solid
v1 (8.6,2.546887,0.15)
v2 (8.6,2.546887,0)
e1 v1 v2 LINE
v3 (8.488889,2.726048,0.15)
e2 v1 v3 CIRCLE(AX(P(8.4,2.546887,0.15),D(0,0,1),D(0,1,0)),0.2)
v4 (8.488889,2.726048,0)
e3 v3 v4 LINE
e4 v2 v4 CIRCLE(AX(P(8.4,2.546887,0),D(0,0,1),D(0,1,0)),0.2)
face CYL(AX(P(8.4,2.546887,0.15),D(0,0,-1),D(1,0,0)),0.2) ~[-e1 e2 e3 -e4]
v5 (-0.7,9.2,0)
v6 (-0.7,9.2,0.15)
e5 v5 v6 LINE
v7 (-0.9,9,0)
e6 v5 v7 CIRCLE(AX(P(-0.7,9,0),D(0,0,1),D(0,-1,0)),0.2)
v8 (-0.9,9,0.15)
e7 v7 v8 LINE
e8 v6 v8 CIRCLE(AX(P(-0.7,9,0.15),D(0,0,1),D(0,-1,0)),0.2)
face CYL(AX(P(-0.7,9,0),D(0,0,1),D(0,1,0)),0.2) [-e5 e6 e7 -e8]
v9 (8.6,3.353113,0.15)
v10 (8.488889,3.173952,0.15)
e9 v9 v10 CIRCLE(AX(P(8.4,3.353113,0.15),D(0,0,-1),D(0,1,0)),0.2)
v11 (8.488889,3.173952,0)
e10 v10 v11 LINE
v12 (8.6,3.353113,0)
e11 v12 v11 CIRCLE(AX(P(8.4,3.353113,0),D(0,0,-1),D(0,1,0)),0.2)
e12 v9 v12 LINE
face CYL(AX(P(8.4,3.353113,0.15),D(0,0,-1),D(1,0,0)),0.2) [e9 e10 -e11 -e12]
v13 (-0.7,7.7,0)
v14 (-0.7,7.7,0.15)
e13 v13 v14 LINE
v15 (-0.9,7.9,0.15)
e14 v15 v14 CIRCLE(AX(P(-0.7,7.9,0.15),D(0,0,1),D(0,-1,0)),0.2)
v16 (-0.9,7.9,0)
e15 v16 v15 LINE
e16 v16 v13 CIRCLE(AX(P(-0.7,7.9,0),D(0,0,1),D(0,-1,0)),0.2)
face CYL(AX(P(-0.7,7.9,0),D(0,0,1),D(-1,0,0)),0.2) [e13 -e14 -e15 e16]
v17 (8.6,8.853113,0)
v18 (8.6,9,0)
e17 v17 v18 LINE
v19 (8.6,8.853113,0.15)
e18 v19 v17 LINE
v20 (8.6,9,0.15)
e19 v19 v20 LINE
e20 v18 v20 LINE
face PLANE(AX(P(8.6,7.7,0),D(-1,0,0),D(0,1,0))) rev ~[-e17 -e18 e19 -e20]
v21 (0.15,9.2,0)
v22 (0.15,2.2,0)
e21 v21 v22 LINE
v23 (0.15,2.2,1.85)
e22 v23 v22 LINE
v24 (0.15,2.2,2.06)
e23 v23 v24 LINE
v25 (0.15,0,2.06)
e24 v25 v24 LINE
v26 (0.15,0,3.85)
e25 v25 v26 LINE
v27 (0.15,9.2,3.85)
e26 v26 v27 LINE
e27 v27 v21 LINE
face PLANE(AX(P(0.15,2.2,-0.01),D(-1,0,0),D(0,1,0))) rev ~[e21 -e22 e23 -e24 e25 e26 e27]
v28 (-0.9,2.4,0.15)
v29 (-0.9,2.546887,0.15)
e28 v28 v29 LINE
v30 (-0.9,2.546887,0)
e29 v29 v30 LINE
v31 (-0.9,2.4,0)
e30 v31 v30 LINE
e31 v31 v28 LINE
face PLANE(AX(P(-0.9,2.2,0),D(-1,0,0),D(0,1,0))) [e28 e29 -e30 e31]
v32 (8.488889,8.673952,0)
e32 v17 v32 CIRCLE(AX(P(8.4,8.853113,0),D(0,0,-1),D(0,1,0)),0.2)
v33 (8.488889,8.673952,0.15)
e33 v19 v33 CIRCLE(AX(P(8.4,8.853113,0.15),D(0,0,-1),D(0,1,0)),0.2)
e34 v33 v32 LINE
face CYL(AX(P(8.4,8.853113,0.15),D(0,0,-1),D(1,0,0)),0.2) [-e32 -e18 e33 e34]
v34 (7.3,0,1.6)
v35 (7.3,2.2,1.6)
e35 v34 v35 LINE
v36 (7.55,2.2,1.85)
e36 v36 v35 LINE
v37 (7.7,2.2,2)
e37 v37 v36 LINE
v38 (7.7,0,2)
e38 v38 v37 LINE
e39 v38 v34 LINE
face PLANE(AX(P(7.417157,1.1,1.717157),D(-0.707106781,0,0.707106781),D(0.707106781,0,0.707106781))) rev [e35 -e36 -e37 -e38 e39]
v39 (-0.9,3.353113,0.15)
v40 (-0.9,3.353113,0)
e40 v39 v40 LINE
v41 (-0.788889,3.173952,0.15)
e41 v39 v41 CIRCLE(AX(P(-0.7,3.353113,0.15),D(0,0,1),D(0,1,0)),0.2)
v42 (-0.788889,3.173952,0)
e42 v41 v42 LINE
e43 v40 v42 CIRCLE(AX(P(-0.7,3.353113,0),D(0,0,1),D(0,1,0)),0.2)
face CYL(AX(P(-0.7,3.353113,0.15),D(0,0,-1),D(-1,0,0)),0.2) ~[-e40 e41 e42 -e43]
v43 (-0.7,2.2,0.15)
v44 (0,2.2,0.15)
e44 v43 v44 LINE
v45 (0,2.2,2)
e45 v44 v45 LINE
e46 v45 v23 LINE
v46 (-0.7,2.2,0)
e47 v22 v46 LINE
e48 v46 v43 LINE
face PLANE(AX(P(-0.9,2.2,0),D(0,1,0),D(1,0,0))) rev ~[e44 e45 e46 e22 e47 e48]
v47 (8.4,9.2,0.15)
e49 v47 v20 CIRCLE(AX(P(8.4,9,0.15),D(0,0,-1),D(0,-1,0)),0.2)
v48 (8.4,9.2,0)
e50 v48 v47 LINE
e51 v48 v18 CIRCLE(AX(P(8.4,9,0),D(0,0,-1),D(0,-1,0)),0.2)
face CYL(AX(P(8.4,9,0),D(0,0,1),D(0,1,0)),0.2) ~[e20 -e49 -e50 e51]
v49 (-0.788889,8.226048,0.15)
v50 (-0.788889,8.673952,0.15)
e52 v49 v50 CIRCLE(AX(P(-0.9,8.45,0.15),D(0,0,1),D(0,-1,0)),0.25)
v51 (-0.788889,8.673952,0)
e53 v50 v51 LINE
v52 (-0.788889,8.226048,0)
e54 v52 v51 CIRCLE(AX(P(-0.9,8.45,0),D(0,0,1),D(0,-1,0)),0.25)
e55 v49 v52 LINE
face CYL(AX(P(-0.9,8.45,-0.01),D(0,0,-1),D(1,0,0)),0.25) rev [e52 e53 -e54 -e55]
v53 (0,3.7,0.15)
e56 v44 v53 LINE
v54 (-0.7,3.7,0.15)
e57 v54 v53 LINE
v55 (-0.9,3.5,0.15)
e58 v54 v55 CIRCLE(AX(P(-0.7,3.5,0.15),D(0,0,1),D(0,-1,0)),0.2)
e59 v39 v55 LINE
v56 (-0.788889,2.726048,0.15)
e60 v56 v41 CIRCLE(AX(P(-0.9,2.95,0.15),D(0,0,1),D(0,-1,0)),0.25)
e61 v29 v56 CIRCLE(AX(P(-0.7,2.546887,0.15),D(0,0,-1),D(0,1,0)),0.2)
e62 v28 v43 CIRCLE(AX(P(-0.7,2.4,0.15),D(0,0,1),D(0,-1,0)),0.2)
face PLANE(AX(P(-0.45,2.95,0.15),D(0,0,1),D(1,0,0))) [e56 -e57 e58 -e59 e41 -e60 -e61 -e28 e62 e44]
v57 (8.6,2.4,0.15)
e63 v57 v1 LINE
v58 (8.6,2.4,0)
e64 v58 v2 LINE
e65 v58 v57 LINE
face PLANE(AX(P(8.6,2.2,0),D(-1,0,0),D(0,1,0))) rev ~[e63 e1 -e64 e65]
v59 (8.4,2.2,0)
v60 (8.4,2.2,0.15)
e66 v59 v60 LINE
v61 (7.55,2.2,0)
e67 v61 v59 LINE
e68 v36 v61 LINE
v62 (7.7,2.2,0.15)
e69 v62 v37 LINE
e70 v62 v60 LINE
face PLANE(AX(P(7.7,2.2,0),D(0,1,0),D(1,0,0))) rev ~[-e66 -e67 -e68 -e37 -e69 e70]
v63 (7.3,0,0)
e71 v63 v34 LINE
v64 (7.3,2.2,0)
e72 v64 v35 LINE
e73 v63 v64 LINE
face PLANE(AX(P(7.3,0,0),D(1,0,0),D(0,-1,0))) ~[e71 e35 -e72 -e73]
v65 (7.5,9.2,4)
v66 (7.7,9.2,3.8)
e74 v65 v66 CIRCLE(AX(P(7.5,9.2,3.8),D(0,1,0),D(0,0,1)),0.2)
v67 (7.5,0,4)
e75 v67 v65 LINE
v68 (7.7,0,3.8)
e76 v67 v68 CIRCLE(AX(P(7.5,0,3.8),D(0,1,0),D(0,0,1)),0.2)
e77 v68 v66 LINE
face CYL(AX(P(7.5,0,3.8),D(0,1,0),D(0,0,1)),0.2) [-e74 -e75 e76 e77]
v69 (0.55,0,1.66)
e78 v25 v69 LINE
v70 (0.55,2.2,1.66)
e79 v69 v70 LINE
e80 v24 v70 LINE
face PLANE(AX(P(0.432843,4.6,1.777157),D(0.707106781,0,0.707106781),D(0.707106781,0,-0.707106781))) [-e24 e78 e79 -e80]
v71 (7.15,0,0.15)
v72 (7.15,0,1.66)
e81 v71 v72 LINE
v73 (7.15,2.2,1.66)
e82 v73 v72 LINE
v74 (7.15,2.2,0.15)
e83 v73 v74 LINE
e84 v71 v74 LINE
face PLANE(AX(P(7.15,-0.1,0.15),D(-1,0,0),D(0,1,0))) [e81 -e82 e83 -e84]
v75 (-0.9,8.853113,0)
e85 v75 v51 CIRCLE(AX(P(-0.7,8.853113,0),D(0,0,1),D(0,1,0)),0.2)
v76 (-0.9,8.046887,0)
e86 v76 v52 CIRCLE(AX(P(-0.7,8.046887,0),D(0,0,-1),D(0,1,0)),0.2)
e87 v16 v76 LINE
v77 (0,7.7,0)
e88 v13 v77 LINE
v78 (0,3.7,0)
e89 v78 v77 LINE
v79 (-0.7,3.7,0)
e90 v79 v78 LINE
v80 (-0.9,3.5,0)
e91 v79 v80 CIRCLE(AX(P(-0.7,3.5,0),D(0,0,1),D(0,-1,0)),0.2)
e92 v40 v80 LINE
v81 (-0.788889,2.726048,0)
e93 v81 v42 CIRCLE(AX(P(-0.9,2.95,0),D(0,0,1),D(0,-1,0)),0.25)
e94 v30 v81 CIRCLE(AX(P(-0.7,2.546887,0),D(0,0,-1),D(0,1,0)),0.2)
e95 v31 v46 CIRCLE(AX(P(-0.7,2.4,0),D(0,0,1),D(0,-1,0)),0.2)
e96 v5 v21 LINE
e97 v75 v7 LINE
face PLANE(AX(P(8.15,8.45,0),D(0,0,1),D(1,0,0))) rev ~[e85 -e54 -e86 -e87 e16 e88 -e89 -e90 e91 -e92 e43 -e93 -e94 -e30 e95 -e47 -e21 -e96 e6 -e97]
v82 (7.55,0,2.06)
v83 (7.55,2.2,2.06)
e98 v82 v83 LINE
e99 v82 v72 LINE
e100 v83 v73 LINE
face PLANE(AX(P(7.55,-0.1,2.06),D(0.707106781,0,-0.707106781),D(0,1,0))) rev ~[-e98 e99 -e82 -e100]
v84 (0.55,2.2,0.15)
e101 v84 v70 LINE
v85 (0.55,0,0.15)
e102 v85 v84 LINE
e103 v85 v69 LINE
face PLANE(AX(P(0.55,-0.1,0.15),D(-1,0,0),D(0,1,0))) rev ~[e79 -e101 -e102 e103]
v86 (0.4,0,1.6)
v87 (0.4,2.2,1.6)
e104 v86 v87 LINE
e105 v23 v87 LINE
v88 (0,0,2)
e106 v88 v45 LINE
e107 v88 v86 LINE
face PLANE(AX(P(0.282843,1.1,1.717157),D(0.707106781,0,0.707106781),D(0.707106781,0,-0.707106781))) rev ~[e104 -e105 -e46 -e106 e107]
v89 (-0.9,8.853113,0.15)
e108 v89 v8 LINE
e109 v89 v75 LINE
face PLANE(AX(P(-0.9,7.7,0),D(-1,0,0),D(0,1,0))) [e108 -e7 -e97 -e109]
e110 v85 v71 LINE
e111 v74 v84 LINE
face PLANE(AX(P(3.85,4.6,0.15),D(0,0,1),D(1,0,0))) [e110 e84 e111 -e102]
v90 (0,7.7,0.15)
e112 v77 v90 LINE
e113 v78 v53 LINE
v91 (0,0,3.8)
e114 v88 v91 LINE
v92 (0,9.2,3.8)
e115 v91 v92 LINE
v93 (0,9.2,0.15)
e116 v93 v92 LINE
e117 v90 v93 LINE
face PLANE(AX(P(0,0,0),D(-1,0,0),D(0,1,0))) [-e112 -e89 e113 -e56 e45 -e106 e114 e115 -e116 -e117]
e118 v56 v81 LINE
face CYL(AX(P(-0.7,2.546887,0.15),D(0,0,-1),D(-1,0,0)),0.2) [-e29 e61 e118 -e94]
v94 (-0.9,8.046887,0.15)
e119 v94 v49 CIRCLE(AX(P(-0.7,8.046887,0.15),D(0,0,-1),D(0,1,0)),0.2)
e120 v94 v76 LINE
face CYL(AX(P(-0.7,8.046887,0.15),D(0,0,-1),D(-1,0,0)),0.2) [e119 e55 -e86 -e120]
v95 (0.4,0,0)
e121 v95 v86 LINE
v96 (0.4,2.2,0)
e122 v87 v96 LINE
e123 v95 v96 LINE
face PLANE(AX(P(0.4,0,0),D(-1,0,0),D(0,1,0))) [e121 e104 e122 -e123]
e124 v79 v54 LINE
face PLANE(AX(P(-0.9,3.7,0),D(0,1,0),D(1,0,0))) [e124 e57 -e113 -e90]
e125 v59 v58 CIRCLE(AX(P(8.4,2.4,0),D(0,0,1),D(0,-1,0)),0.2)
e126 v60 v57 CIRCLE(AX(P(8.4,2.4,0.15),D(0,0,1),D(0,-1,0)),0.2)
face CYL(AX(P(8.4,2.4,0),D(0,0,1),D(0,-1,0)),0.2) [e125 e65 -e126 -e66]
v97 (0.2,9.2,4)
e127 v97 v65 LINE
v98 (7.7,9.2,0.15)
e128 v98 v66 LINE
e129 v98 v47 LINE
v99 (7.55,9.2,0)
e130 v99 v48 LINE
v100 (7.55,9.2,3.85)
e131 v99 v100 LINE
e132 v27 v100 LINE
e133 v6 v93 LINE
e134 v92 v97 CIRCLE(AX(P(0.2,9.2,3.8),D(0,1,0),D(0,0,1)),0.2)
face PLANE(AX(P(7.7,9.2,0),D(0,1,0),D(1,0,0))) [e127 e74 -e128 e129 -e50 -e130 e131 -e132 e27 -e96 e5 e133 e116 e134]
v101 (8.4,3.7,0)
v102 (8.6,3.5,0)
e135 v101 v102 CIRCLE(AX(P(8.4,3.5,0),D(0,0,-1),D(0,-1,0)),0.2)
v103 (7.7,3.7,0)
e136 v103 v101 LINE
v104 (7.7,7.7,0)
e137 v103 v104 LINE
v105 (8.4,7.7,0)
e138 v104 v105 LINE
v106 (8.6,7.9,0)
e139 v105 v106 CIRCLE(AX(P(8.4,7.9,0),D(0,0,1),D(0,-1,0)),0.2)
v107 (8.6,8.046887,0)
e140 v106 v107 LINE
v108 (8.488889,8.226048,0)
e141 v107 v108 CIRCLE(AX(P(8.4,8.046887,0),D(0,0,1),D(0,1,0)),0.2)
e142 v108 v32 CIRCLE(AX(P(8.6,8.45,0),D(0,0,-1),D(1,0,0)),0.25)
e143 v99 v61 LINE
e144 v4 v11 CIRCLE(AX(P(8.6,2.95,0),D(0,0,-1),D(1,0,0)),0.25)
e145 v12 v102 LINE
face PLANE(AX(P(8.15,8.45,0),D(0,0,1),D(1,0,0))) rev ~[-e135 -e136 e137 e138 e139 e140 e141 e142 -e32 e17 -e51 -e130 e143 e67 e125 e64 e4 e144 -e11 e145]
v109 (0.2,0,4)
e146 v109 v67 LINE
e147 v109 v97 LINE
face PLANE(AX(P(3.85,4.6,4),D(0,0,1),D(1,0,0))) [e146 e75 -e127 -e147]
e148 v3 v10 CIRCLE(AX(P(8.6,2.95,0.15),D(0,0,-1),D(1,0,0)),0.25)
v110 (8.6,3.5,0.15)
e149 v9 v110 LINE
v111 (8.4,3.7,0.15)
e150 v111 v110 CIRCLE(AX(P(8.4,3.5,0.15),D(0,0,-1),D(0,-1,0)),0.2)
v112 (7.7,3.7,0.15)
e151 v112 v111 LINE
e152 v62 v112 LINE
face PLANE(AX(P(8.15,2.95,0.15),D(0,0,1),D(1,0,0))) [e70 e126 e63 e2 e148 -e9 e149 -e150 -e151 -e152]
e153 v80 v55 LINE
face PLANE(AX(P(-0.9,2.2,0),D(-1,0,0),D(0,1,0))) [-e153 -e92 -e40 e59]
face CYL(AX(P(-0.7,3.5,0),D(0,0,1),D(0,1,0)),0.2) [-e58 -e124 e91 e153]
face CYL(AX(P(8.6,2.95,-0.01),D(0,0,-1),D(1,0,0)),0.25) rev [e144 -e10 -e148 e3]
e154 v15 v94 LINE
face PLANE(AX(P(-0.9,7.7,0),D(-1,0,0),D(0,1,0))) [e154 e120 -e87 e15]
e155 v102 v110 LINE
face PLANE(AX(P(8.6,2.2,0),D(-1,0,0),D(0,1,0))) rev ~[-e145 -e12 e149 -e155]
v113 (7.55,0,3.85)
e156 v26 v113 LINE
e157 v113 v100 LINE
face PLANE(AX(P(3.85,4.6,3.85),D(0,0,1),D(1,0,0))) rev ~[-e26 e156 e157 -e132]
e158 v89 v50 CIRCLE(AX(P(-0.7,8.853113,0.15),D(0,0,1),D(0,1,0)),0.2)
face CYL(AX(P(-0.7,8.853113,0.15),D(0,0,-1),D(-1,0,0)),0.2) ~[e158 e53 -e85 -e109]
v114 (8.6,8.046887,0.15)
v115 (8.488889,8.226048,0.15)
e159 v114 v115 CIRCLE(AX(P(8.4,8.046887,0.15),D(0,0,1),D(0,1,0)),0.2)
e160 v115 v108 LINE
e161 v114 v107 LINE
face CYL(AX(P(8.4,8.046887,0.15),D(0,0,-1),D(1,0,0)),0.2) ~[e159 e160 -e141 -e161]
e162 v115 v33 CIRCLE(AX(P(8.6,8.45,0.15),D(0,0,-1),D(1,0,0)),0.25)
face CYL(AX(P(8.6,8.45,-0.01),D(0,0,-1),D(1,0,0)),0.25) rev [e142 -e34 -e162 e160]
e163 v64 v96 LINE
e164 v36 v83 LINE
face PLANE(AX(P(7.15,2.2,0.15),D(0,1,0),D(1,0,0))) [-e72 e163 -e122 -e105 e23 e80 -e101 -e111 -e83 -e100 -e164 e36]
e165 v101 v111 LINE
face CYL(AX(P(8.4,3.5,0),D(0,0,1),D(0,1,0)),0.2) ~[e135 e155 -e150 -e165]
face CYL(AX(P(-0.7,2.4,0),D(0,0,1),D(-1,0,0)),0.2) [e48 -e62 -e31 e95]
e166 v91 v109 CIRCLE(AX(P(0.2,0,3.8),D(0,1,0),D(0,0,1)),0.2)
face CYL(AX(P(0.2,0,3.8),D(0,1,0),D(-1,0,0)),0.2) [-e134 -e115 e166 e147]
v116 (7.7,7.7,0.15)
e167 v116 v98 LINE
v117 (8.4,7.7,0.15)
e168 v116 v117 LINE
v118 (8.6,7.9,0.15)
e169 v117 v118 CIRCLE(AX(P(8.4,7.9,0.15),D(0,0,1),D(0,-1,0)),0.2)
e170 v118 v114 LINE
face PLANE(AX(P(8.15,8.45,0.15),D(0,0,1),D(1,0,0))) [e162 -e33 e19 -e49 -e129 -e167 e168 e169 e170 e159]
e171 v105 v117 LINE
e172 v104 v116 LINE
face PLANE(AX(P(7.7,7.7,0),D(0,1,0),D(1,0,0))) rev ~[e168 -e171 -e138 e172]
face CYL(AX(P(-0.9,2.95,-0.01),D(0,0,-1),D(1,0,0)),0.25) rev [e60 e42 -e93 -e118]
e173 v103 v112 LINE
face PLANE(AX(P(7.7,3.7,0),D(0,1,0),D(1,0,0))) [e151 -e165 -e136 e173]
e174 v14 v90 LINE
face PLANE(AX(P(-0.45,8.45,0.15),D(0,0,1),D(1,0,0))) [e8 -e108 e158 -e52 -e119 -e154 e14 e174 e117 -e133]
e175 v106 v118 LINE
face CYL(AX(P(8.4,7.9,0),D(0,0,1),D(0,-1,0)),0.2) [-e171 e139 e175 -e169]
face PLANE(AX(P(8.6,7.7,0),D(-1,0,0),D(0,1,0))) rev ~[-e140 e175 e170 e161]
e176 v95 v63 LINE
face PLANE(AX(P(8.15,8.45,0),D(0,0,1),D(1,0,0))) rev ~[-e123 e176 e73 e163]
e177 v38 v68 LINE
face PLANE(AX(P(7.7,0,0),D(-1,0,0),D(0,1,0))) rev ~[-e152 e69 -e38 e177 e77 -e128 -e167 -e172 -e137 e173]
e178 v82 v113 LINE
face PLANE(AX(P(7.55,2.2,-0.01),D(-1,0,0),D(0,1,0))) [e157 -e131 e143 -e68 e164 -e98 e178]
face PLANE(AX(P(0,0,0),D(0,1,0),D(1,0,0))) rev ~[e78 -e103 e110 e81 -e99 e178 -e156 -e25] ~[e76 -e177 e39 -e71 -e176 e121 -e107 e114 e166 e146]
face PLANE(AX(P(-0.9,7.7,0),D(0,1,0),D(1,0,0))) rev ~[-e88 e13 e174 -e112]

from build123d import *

# Parameters (mm, degrees)
BOX_W                  = 7.4
BOX_H                  = 7
BOX_DEPTH              = 0.2
BOX015_W               = 0.8
BOX015_H               = 9.4
BOX015_DEPTH           = 0.8
BOX015_PLACEMENT_ANGLE = 225
BOX014_W               = 0.4
BOX014_H               = 2.3
BOX014_DEPTH           = 1.91
BOX017_W               = 0.8
BOX017_H               = 9.4
BOX017_DEPTH           = 0.8
BOX017_PLACEMENT_ANGLE = 45
BOX013_W               = 0.4
BOX013_H               = 2.3
BOX013_DEPTH           = 1.91
BOX018_W               = 7.4
BOX018_H               = 9.4
BOX018_DEPTH           = 3.7
CYLINDER004_R          = 0.25
CYLINDER004_DEPTH      = 0.17
BOX024_W               = 0.9
BOX024_H               = 1.5
BOX024_DEPTH           = 0.15
FILLET006_R            = 0.2
CYLINDER006_R          = 0.25
CYLINDER006_DEPTH      = 0.17
BOX025_W               = 0.9
BOX025_H               = 1.5
BOX025_DEPTH           = 0.15
FILLET007_R            = 0.2
CYLINDER005_R          = 0.25
CYLINDER005_DEPTH      = 0.17
BOX026_W               = 0.9
BOX026_H               = 1.5
BOX026_DEPTH           = 0.15
FILLET008_R            = 0.2
CYLINDER007_R          = 0.25
CYLINDER007_DEPTH      = 0.17
BOX027_W               = 0.9
BOX027_H               = 1.5
BOX027_DEPTH           = 0.15
FILLET005_R            = 0.2
BOX023_W               = 0.8
BOX023_H               = 2.2
BOX023_DEPTH           = 0.8
BOX023_PLACEMENT_ANGLE = 45
BOX022_W               = 0.4
BOX022_H               = 2.2
BOX022_DEPTH           = 2
BOX020_W               = 0.8
BOX020_H               = 2.2
BOX020_DEPTH           = 0.8
BOX020_PLACEMENT_ANGLE = 45
BOX021_W               = 0.4
BOX021_H               = 2.2
BOX021_DEPTH           = 2
BOX019_W               = 7.7
BOX019_H               = 9.2
BOX019_DEPTH           = 4
FILLET009_R            = 0.2


with BuildPart() as cube:
    # Box → Box (new body)
    with BuildSketch(Plane(origin=(0.15, 2.2, -0.01), x_dir=(1, 0, 0), z_dir=(0, 0, 1))):
        with Locations((3.7, 3.5)):
            Rectangle(BOX_W, BOX_H)
    extrude(amount=BOX_DEPTH)


with BuildPart() as cube011:
    # Box015 → Box015 (new body)
    with BuildSketch(Plane.XY):
        with Locations((0.4, 4.7)):
            Rectangle(BOX015_W, BOX015_H)
    extrude(amount=BOX015_DEPTH)


with BuildPart() as cube011_1:
    # Box015 placement: moved
    add(cube011.part.moved(Location((7.4, -0.1, 2.06))).rotate(Axis((7.4, -0.1, 2.06), (0, 1, 0)), BOX015_PLACEMENT_ANGLE))


with BuildPart() as cut013:
    # Box014 → Box014 (new body)
    with BuildSketch(Plane(origin=(7, -0.1, 0.15), x_dir=(1, 0, 0), z_dir=(0, 0, 1))):
        with Locations((0.2, 1.15)):
            Rectangle(BOX014_W, BOX014_H)
    extrude(amount=BOX014_DEPTH)

    # Cut013: cut Cube011
    add(cube011_1.part, mode=Mode.SUBTRACT)


with BuildPart() as cut013_1:
    # Cut013 placement: moved
    add(cut013.part.moved(Location((0.15, 0, 0))))


with BuildPart() as cube013:
    # Box017 → Box017 (new body)
    with BuildSketch(Plane.XY):
        with Locations((0.4, 4.7)):
            Rectangle(BOX017_W, BOX017_H)
    extrude(amount=BOX017_DEPTH)


with BuildPart() as cube013_1:
    # Box017 placement: moved
    add(cube013.part.moved(Location((0.15, -0.1, 2.06))).rotate(Axis((0.15, -0.1, 2.06), (0, 1, 0)), BOX017_PLACEMENT_ANGLE))


with BuildPart() as cut022:
    # Box013 → Box013 (new body)
    with BuildSketch(Plane(origin=(0.15, -0.1, 0.15), x_dir=(1, 0, 0), z_dir=(0, 0, 1))):
        with Locations((0.2, 1.15)):
            Rectangle(BOX013_W, BOX013_H)
    extrude(amount=BOX013_DEPTH)

    # Cut022: cut Cube013
    add(cube013_1.part, mode=Mode.SUBTRACT)


with BuildPart() as cut024:
    # Box018 → Box018 (new body)
    with BuildSketch(Plane(origin=(0.15, -0.1, 0.15), x_dir=(1, 0, 0), z_dir=(0, 0, 1))):
        with Locations((3.7, 4.7)):
            Rectangle(BOX018_W, BOX018_H)
    extrude(amount=BOX018_DEPTH)

    # Cut023: cut Cut022
    add(cut022.part, mode=Mode.SUBTRACT)

    # Cut024: cut Cut013
    add(cut013_1.part, mode=Mode.SUBTRACT)


with BuildPart() as cylinder004:
    # Cylinder004 → Cylinder004 (new body)
    with BuildSketch(Plane(origin=(-0.9, 2.95, -0.01), x_dir=(1, 0, 0), z_dir=(0, 0, 1))):
        Circle(CYLINDER004_R)
    extrude(amount=CYLINDER004_DEPTH)


with BuildPart() as foot012:
    # Box024 → Box024 (new body)
    with BuildSketch(Plane(origin=(-0.9, 2.2, 0), x_dir=(1, 0, 0), z_dir=(0, 0, 1))):
        with Locations((0.45, 0.75)):
            Rectangle(BOX024_W, BOX024_H)
    extrude(amount=BOX024_DEPTH)

    # Cut021: cut Cylinder004
    add(cylinder004.part, mode=Mode.SUBTRACT)

    # Fillet006
    fillet006_edges = [foot012.edges().sort_by_distance(p)[0] for p in [
        (-0.9, 2.7, 0.075),
        (-0.9, 2.2, 0.075),
        (-0.9, 3.2, 0.075),
        (-0.9, 3.7, 0.075),
    ]]
    fillet(fillet006_edges, radius=FILLET006_R)


with BuildPart() as cylinder006:
    # Cylinder006 → Cylinder006 (new body)
    with BuildSketch(Plane(origin=(-0.9, 8.45, -0.01), x_dir=(1, 0, 0), z_dir=(0, 0, 1))):
        Circle(CYLINDER006_R)
    extrude(amount=CYLINDER006_DEPTH)


with BuildPart() as foot013:
    # Box025 → Box025 (new body)
    with BuildSketch(Plane(origin=(-0.9, 7.7, 0), x_dir=(1, 0, 0), z_dir=(0, 0, 1))):
        with Locations((0.45, 0.75)):
            Rectangle(BOX025_W, BOX025_H)
    extrude(amount=BOX025_DEPTH)

    # Cut016: cut Cylinder006
    add(cylinder006.part, mode=Mode.SUBTRACT)

    # Fillet007
    fillet007_edges = [foot013.edges().sort_by_distance(p)[0] for p in [
        (-0.9, 8.2, 0.075),
        (-0.9, 7.7, 0.075),
        (-0.9, 8.7, 0.075),
        (-0.9, 9.2, 0.075),
    ]]
    fillet(fillet007_edges, radius=FILLET007_R)


with BuildPart() as cylinder005:
    # Cylinder005 → Cylinder005 (new body)
    with BuildSketch(Plane(origin=(8.6, 2.95, -0.01), x_dir=(1, 0, 0), z_dir=(0, 0, 1))):
        Circle(CYLINDER005_R)
    extrude(amount=CYLINDER005_DEPTH)


with BuildPart() as foot014:
    # Box026 → Box026 (new body)
    with BuildSketch(Plane(origin=(7.7, 2.2, 0), x_dir=(1, 0, 0), z_dir=(0, 0, 1))):
        with Locations((0.45, 0.75)):
            Rectangle(BOX026_W, BOX026_H)
    extrude(amount=BOX026_DEPTH)

    # Cut014: cut Cylinder005
    add(cylinder005.part, mode=Mode.SUBTRACT)

    # Fillet008
    fillet008_edges = [foot014.edges().sort_by_distance(p)[0] for p in [
        (8.6, 2.2, 0.075),
        (8.6, 3.7, 0.075),
        (8.6, 2.7, 0.075),
        (8.6, 3.2, 0.075),
    ]]
    fillet(fillet008_edges, radius=FILLET008_R)


with BuildPart() as cylinder007:
    # Cylinder007 → Cylinder007 (new body)
    with BuildSketch(Plane(origin=(8.6, 8.45, -0.01), x_dir=(1, 0, 0), z_dir=(0, 0, 1))):
        Circle(CYLINDER007_R)
    extrude(amount=CYLINDER007_DEPTH)


with BuildPart() as foot009:
    # Box027 → Box027 (new body)
    with BuildSketch(Plane(origin=(7.7, 7.7, 0), x_dir=(1, 0, 0), z_dir=(0, 0, 1))):
        with Locations((0.45, 0.75)):
            Rectangle(BOX027_W, BOX027_H)
    extrude(amount=BOX027_DEPTH)

    # Cut015: cut Cylinder007
    add(cylinder007.part, mode=Mode.SUBTRACT)

    # Fillet005
    fillet005_edges = [foot009.edges().sort_by_distance(p)[0] for p in [
        (8.6, 7.7, 0.075),
        (8.6, 9.2, 0.075),
        (8.6, 8.2, 0.075),
        (8.6, 8.7, 0.075),
    ]]
    fillet(fillet005_edges, radius=FILLET005_R)


with BuildPart() as cube019:
    # Box023 → Box023 (new body)
    with BuildSketch(Plane.XY):
        with Locations((0.4, 1.1)):
            Rectangle(BOX023_W, BOX023_H)
    extrude(amount=BOX023_DEPTH)


with BuildPart() as cube019_1:
    # Box023 placement: moved
    add(cube019.part.moved(Location((0, 0, 2))).rotate(Axis((0, 0, 2), (0, 1, 0)), BOX023_PLACEMENT_ANGLE))


with BuildPart() as right_side_cutout001:
    # Box022 → Box022 (new body)
    with BuildSketch(Plane.XY):
        with Locations((0.2, 1.1)):
            Rectangle(BOX022_W, BOX022_H)
    extrude(amount=BOX022_DEPTH)

    # Cut018: cut Cube019
    add(cube019_1.part, mode=Mode.SUBTRACT)


with BuildPart() as right_side_cutout001_1:
    # Cut018 placement: moved
    add(right_side_cutout001.part.moved(Location((7.7, 0, 0))))


with BuildPart() as part_mirroring001:
    # Part__Mirroring001: instance of Right Side Cutout001
    add(right_side_cutout001_1.part.mirror(Plane(origin=(7.7, 0, 0), x_dir=(0, -1, 0), z_dir=(1, 0, 0))))


with BuildPart() as cube016:
    # Box020 → Box020 (new body)
    with BuildSketch(Plane.XY):
        with Locations((0.4, 1.1)):
            Rectangle(BOX020_W, BOX020_H)
    extrude(amount=BOX020_DEPTH)


with BuildPart() as cube016_1:
    # Box020 placement: moved
    add(cube016.part.moved(Location((0, 0, 2))).rotate(Axis((0, 0, 2), (0, 1, 0)), BOX020_PLACEMENT_ANGLE))


with BuildPart() as left_side_cutout001:
    # Box021 → Box021 (new body)
    with BuildSketch(Plane.XY):
        with Locations((0.2, 1.1)):
            Rectangle(BOX021_W, BOX021_H)
    extrude(amount=BOX021_DEPTH)

    # Cut020: cut Cube016
    add(cube016_1.part, mode=Mode.SUBTRACT)


with BuildPart() as metal_shell:
    # Box019 → Box019 (new body)
    with BuildSketch(Plane.XY):
        with Locations((3.85, 4.6)):
            Rectangle(BOX019_W, BOX019_H)
    extrude(amount=BOX019_DEPTH)

    # Cut019: cut Left Side Cutout001
    add(left_side_cutout001.part, mode=Mode.SUBTRACT)

    # Cut017: cut Part__Mirroring001
    add(part_mirroring001.part, mode=Mode.SUBTRACT)

    # Fillet009
    fillet009_edges = [metal_shell.edges().sort_by_distance(p)[0] for p in [
        (0, 4.6, 4),
        (7.7, 4.6, 4),
    ]]
    fillet(fillet009_edges, radius=FILLET009_R)

    # Fusion001: union Foot012, Foot013, Foot014, Foot009
    add(foot012.part)
    add(foot013.part)
    add(foot014.part)
    add(foot009.part)

    # Cut025: cut Cut024
    add(cut024.part, mode=Mode.SUBTRACT)

    # Cut: cut Cube
    add(cube.part, mode=Mode.SUBTRACT)


solid = metal_shell.part
